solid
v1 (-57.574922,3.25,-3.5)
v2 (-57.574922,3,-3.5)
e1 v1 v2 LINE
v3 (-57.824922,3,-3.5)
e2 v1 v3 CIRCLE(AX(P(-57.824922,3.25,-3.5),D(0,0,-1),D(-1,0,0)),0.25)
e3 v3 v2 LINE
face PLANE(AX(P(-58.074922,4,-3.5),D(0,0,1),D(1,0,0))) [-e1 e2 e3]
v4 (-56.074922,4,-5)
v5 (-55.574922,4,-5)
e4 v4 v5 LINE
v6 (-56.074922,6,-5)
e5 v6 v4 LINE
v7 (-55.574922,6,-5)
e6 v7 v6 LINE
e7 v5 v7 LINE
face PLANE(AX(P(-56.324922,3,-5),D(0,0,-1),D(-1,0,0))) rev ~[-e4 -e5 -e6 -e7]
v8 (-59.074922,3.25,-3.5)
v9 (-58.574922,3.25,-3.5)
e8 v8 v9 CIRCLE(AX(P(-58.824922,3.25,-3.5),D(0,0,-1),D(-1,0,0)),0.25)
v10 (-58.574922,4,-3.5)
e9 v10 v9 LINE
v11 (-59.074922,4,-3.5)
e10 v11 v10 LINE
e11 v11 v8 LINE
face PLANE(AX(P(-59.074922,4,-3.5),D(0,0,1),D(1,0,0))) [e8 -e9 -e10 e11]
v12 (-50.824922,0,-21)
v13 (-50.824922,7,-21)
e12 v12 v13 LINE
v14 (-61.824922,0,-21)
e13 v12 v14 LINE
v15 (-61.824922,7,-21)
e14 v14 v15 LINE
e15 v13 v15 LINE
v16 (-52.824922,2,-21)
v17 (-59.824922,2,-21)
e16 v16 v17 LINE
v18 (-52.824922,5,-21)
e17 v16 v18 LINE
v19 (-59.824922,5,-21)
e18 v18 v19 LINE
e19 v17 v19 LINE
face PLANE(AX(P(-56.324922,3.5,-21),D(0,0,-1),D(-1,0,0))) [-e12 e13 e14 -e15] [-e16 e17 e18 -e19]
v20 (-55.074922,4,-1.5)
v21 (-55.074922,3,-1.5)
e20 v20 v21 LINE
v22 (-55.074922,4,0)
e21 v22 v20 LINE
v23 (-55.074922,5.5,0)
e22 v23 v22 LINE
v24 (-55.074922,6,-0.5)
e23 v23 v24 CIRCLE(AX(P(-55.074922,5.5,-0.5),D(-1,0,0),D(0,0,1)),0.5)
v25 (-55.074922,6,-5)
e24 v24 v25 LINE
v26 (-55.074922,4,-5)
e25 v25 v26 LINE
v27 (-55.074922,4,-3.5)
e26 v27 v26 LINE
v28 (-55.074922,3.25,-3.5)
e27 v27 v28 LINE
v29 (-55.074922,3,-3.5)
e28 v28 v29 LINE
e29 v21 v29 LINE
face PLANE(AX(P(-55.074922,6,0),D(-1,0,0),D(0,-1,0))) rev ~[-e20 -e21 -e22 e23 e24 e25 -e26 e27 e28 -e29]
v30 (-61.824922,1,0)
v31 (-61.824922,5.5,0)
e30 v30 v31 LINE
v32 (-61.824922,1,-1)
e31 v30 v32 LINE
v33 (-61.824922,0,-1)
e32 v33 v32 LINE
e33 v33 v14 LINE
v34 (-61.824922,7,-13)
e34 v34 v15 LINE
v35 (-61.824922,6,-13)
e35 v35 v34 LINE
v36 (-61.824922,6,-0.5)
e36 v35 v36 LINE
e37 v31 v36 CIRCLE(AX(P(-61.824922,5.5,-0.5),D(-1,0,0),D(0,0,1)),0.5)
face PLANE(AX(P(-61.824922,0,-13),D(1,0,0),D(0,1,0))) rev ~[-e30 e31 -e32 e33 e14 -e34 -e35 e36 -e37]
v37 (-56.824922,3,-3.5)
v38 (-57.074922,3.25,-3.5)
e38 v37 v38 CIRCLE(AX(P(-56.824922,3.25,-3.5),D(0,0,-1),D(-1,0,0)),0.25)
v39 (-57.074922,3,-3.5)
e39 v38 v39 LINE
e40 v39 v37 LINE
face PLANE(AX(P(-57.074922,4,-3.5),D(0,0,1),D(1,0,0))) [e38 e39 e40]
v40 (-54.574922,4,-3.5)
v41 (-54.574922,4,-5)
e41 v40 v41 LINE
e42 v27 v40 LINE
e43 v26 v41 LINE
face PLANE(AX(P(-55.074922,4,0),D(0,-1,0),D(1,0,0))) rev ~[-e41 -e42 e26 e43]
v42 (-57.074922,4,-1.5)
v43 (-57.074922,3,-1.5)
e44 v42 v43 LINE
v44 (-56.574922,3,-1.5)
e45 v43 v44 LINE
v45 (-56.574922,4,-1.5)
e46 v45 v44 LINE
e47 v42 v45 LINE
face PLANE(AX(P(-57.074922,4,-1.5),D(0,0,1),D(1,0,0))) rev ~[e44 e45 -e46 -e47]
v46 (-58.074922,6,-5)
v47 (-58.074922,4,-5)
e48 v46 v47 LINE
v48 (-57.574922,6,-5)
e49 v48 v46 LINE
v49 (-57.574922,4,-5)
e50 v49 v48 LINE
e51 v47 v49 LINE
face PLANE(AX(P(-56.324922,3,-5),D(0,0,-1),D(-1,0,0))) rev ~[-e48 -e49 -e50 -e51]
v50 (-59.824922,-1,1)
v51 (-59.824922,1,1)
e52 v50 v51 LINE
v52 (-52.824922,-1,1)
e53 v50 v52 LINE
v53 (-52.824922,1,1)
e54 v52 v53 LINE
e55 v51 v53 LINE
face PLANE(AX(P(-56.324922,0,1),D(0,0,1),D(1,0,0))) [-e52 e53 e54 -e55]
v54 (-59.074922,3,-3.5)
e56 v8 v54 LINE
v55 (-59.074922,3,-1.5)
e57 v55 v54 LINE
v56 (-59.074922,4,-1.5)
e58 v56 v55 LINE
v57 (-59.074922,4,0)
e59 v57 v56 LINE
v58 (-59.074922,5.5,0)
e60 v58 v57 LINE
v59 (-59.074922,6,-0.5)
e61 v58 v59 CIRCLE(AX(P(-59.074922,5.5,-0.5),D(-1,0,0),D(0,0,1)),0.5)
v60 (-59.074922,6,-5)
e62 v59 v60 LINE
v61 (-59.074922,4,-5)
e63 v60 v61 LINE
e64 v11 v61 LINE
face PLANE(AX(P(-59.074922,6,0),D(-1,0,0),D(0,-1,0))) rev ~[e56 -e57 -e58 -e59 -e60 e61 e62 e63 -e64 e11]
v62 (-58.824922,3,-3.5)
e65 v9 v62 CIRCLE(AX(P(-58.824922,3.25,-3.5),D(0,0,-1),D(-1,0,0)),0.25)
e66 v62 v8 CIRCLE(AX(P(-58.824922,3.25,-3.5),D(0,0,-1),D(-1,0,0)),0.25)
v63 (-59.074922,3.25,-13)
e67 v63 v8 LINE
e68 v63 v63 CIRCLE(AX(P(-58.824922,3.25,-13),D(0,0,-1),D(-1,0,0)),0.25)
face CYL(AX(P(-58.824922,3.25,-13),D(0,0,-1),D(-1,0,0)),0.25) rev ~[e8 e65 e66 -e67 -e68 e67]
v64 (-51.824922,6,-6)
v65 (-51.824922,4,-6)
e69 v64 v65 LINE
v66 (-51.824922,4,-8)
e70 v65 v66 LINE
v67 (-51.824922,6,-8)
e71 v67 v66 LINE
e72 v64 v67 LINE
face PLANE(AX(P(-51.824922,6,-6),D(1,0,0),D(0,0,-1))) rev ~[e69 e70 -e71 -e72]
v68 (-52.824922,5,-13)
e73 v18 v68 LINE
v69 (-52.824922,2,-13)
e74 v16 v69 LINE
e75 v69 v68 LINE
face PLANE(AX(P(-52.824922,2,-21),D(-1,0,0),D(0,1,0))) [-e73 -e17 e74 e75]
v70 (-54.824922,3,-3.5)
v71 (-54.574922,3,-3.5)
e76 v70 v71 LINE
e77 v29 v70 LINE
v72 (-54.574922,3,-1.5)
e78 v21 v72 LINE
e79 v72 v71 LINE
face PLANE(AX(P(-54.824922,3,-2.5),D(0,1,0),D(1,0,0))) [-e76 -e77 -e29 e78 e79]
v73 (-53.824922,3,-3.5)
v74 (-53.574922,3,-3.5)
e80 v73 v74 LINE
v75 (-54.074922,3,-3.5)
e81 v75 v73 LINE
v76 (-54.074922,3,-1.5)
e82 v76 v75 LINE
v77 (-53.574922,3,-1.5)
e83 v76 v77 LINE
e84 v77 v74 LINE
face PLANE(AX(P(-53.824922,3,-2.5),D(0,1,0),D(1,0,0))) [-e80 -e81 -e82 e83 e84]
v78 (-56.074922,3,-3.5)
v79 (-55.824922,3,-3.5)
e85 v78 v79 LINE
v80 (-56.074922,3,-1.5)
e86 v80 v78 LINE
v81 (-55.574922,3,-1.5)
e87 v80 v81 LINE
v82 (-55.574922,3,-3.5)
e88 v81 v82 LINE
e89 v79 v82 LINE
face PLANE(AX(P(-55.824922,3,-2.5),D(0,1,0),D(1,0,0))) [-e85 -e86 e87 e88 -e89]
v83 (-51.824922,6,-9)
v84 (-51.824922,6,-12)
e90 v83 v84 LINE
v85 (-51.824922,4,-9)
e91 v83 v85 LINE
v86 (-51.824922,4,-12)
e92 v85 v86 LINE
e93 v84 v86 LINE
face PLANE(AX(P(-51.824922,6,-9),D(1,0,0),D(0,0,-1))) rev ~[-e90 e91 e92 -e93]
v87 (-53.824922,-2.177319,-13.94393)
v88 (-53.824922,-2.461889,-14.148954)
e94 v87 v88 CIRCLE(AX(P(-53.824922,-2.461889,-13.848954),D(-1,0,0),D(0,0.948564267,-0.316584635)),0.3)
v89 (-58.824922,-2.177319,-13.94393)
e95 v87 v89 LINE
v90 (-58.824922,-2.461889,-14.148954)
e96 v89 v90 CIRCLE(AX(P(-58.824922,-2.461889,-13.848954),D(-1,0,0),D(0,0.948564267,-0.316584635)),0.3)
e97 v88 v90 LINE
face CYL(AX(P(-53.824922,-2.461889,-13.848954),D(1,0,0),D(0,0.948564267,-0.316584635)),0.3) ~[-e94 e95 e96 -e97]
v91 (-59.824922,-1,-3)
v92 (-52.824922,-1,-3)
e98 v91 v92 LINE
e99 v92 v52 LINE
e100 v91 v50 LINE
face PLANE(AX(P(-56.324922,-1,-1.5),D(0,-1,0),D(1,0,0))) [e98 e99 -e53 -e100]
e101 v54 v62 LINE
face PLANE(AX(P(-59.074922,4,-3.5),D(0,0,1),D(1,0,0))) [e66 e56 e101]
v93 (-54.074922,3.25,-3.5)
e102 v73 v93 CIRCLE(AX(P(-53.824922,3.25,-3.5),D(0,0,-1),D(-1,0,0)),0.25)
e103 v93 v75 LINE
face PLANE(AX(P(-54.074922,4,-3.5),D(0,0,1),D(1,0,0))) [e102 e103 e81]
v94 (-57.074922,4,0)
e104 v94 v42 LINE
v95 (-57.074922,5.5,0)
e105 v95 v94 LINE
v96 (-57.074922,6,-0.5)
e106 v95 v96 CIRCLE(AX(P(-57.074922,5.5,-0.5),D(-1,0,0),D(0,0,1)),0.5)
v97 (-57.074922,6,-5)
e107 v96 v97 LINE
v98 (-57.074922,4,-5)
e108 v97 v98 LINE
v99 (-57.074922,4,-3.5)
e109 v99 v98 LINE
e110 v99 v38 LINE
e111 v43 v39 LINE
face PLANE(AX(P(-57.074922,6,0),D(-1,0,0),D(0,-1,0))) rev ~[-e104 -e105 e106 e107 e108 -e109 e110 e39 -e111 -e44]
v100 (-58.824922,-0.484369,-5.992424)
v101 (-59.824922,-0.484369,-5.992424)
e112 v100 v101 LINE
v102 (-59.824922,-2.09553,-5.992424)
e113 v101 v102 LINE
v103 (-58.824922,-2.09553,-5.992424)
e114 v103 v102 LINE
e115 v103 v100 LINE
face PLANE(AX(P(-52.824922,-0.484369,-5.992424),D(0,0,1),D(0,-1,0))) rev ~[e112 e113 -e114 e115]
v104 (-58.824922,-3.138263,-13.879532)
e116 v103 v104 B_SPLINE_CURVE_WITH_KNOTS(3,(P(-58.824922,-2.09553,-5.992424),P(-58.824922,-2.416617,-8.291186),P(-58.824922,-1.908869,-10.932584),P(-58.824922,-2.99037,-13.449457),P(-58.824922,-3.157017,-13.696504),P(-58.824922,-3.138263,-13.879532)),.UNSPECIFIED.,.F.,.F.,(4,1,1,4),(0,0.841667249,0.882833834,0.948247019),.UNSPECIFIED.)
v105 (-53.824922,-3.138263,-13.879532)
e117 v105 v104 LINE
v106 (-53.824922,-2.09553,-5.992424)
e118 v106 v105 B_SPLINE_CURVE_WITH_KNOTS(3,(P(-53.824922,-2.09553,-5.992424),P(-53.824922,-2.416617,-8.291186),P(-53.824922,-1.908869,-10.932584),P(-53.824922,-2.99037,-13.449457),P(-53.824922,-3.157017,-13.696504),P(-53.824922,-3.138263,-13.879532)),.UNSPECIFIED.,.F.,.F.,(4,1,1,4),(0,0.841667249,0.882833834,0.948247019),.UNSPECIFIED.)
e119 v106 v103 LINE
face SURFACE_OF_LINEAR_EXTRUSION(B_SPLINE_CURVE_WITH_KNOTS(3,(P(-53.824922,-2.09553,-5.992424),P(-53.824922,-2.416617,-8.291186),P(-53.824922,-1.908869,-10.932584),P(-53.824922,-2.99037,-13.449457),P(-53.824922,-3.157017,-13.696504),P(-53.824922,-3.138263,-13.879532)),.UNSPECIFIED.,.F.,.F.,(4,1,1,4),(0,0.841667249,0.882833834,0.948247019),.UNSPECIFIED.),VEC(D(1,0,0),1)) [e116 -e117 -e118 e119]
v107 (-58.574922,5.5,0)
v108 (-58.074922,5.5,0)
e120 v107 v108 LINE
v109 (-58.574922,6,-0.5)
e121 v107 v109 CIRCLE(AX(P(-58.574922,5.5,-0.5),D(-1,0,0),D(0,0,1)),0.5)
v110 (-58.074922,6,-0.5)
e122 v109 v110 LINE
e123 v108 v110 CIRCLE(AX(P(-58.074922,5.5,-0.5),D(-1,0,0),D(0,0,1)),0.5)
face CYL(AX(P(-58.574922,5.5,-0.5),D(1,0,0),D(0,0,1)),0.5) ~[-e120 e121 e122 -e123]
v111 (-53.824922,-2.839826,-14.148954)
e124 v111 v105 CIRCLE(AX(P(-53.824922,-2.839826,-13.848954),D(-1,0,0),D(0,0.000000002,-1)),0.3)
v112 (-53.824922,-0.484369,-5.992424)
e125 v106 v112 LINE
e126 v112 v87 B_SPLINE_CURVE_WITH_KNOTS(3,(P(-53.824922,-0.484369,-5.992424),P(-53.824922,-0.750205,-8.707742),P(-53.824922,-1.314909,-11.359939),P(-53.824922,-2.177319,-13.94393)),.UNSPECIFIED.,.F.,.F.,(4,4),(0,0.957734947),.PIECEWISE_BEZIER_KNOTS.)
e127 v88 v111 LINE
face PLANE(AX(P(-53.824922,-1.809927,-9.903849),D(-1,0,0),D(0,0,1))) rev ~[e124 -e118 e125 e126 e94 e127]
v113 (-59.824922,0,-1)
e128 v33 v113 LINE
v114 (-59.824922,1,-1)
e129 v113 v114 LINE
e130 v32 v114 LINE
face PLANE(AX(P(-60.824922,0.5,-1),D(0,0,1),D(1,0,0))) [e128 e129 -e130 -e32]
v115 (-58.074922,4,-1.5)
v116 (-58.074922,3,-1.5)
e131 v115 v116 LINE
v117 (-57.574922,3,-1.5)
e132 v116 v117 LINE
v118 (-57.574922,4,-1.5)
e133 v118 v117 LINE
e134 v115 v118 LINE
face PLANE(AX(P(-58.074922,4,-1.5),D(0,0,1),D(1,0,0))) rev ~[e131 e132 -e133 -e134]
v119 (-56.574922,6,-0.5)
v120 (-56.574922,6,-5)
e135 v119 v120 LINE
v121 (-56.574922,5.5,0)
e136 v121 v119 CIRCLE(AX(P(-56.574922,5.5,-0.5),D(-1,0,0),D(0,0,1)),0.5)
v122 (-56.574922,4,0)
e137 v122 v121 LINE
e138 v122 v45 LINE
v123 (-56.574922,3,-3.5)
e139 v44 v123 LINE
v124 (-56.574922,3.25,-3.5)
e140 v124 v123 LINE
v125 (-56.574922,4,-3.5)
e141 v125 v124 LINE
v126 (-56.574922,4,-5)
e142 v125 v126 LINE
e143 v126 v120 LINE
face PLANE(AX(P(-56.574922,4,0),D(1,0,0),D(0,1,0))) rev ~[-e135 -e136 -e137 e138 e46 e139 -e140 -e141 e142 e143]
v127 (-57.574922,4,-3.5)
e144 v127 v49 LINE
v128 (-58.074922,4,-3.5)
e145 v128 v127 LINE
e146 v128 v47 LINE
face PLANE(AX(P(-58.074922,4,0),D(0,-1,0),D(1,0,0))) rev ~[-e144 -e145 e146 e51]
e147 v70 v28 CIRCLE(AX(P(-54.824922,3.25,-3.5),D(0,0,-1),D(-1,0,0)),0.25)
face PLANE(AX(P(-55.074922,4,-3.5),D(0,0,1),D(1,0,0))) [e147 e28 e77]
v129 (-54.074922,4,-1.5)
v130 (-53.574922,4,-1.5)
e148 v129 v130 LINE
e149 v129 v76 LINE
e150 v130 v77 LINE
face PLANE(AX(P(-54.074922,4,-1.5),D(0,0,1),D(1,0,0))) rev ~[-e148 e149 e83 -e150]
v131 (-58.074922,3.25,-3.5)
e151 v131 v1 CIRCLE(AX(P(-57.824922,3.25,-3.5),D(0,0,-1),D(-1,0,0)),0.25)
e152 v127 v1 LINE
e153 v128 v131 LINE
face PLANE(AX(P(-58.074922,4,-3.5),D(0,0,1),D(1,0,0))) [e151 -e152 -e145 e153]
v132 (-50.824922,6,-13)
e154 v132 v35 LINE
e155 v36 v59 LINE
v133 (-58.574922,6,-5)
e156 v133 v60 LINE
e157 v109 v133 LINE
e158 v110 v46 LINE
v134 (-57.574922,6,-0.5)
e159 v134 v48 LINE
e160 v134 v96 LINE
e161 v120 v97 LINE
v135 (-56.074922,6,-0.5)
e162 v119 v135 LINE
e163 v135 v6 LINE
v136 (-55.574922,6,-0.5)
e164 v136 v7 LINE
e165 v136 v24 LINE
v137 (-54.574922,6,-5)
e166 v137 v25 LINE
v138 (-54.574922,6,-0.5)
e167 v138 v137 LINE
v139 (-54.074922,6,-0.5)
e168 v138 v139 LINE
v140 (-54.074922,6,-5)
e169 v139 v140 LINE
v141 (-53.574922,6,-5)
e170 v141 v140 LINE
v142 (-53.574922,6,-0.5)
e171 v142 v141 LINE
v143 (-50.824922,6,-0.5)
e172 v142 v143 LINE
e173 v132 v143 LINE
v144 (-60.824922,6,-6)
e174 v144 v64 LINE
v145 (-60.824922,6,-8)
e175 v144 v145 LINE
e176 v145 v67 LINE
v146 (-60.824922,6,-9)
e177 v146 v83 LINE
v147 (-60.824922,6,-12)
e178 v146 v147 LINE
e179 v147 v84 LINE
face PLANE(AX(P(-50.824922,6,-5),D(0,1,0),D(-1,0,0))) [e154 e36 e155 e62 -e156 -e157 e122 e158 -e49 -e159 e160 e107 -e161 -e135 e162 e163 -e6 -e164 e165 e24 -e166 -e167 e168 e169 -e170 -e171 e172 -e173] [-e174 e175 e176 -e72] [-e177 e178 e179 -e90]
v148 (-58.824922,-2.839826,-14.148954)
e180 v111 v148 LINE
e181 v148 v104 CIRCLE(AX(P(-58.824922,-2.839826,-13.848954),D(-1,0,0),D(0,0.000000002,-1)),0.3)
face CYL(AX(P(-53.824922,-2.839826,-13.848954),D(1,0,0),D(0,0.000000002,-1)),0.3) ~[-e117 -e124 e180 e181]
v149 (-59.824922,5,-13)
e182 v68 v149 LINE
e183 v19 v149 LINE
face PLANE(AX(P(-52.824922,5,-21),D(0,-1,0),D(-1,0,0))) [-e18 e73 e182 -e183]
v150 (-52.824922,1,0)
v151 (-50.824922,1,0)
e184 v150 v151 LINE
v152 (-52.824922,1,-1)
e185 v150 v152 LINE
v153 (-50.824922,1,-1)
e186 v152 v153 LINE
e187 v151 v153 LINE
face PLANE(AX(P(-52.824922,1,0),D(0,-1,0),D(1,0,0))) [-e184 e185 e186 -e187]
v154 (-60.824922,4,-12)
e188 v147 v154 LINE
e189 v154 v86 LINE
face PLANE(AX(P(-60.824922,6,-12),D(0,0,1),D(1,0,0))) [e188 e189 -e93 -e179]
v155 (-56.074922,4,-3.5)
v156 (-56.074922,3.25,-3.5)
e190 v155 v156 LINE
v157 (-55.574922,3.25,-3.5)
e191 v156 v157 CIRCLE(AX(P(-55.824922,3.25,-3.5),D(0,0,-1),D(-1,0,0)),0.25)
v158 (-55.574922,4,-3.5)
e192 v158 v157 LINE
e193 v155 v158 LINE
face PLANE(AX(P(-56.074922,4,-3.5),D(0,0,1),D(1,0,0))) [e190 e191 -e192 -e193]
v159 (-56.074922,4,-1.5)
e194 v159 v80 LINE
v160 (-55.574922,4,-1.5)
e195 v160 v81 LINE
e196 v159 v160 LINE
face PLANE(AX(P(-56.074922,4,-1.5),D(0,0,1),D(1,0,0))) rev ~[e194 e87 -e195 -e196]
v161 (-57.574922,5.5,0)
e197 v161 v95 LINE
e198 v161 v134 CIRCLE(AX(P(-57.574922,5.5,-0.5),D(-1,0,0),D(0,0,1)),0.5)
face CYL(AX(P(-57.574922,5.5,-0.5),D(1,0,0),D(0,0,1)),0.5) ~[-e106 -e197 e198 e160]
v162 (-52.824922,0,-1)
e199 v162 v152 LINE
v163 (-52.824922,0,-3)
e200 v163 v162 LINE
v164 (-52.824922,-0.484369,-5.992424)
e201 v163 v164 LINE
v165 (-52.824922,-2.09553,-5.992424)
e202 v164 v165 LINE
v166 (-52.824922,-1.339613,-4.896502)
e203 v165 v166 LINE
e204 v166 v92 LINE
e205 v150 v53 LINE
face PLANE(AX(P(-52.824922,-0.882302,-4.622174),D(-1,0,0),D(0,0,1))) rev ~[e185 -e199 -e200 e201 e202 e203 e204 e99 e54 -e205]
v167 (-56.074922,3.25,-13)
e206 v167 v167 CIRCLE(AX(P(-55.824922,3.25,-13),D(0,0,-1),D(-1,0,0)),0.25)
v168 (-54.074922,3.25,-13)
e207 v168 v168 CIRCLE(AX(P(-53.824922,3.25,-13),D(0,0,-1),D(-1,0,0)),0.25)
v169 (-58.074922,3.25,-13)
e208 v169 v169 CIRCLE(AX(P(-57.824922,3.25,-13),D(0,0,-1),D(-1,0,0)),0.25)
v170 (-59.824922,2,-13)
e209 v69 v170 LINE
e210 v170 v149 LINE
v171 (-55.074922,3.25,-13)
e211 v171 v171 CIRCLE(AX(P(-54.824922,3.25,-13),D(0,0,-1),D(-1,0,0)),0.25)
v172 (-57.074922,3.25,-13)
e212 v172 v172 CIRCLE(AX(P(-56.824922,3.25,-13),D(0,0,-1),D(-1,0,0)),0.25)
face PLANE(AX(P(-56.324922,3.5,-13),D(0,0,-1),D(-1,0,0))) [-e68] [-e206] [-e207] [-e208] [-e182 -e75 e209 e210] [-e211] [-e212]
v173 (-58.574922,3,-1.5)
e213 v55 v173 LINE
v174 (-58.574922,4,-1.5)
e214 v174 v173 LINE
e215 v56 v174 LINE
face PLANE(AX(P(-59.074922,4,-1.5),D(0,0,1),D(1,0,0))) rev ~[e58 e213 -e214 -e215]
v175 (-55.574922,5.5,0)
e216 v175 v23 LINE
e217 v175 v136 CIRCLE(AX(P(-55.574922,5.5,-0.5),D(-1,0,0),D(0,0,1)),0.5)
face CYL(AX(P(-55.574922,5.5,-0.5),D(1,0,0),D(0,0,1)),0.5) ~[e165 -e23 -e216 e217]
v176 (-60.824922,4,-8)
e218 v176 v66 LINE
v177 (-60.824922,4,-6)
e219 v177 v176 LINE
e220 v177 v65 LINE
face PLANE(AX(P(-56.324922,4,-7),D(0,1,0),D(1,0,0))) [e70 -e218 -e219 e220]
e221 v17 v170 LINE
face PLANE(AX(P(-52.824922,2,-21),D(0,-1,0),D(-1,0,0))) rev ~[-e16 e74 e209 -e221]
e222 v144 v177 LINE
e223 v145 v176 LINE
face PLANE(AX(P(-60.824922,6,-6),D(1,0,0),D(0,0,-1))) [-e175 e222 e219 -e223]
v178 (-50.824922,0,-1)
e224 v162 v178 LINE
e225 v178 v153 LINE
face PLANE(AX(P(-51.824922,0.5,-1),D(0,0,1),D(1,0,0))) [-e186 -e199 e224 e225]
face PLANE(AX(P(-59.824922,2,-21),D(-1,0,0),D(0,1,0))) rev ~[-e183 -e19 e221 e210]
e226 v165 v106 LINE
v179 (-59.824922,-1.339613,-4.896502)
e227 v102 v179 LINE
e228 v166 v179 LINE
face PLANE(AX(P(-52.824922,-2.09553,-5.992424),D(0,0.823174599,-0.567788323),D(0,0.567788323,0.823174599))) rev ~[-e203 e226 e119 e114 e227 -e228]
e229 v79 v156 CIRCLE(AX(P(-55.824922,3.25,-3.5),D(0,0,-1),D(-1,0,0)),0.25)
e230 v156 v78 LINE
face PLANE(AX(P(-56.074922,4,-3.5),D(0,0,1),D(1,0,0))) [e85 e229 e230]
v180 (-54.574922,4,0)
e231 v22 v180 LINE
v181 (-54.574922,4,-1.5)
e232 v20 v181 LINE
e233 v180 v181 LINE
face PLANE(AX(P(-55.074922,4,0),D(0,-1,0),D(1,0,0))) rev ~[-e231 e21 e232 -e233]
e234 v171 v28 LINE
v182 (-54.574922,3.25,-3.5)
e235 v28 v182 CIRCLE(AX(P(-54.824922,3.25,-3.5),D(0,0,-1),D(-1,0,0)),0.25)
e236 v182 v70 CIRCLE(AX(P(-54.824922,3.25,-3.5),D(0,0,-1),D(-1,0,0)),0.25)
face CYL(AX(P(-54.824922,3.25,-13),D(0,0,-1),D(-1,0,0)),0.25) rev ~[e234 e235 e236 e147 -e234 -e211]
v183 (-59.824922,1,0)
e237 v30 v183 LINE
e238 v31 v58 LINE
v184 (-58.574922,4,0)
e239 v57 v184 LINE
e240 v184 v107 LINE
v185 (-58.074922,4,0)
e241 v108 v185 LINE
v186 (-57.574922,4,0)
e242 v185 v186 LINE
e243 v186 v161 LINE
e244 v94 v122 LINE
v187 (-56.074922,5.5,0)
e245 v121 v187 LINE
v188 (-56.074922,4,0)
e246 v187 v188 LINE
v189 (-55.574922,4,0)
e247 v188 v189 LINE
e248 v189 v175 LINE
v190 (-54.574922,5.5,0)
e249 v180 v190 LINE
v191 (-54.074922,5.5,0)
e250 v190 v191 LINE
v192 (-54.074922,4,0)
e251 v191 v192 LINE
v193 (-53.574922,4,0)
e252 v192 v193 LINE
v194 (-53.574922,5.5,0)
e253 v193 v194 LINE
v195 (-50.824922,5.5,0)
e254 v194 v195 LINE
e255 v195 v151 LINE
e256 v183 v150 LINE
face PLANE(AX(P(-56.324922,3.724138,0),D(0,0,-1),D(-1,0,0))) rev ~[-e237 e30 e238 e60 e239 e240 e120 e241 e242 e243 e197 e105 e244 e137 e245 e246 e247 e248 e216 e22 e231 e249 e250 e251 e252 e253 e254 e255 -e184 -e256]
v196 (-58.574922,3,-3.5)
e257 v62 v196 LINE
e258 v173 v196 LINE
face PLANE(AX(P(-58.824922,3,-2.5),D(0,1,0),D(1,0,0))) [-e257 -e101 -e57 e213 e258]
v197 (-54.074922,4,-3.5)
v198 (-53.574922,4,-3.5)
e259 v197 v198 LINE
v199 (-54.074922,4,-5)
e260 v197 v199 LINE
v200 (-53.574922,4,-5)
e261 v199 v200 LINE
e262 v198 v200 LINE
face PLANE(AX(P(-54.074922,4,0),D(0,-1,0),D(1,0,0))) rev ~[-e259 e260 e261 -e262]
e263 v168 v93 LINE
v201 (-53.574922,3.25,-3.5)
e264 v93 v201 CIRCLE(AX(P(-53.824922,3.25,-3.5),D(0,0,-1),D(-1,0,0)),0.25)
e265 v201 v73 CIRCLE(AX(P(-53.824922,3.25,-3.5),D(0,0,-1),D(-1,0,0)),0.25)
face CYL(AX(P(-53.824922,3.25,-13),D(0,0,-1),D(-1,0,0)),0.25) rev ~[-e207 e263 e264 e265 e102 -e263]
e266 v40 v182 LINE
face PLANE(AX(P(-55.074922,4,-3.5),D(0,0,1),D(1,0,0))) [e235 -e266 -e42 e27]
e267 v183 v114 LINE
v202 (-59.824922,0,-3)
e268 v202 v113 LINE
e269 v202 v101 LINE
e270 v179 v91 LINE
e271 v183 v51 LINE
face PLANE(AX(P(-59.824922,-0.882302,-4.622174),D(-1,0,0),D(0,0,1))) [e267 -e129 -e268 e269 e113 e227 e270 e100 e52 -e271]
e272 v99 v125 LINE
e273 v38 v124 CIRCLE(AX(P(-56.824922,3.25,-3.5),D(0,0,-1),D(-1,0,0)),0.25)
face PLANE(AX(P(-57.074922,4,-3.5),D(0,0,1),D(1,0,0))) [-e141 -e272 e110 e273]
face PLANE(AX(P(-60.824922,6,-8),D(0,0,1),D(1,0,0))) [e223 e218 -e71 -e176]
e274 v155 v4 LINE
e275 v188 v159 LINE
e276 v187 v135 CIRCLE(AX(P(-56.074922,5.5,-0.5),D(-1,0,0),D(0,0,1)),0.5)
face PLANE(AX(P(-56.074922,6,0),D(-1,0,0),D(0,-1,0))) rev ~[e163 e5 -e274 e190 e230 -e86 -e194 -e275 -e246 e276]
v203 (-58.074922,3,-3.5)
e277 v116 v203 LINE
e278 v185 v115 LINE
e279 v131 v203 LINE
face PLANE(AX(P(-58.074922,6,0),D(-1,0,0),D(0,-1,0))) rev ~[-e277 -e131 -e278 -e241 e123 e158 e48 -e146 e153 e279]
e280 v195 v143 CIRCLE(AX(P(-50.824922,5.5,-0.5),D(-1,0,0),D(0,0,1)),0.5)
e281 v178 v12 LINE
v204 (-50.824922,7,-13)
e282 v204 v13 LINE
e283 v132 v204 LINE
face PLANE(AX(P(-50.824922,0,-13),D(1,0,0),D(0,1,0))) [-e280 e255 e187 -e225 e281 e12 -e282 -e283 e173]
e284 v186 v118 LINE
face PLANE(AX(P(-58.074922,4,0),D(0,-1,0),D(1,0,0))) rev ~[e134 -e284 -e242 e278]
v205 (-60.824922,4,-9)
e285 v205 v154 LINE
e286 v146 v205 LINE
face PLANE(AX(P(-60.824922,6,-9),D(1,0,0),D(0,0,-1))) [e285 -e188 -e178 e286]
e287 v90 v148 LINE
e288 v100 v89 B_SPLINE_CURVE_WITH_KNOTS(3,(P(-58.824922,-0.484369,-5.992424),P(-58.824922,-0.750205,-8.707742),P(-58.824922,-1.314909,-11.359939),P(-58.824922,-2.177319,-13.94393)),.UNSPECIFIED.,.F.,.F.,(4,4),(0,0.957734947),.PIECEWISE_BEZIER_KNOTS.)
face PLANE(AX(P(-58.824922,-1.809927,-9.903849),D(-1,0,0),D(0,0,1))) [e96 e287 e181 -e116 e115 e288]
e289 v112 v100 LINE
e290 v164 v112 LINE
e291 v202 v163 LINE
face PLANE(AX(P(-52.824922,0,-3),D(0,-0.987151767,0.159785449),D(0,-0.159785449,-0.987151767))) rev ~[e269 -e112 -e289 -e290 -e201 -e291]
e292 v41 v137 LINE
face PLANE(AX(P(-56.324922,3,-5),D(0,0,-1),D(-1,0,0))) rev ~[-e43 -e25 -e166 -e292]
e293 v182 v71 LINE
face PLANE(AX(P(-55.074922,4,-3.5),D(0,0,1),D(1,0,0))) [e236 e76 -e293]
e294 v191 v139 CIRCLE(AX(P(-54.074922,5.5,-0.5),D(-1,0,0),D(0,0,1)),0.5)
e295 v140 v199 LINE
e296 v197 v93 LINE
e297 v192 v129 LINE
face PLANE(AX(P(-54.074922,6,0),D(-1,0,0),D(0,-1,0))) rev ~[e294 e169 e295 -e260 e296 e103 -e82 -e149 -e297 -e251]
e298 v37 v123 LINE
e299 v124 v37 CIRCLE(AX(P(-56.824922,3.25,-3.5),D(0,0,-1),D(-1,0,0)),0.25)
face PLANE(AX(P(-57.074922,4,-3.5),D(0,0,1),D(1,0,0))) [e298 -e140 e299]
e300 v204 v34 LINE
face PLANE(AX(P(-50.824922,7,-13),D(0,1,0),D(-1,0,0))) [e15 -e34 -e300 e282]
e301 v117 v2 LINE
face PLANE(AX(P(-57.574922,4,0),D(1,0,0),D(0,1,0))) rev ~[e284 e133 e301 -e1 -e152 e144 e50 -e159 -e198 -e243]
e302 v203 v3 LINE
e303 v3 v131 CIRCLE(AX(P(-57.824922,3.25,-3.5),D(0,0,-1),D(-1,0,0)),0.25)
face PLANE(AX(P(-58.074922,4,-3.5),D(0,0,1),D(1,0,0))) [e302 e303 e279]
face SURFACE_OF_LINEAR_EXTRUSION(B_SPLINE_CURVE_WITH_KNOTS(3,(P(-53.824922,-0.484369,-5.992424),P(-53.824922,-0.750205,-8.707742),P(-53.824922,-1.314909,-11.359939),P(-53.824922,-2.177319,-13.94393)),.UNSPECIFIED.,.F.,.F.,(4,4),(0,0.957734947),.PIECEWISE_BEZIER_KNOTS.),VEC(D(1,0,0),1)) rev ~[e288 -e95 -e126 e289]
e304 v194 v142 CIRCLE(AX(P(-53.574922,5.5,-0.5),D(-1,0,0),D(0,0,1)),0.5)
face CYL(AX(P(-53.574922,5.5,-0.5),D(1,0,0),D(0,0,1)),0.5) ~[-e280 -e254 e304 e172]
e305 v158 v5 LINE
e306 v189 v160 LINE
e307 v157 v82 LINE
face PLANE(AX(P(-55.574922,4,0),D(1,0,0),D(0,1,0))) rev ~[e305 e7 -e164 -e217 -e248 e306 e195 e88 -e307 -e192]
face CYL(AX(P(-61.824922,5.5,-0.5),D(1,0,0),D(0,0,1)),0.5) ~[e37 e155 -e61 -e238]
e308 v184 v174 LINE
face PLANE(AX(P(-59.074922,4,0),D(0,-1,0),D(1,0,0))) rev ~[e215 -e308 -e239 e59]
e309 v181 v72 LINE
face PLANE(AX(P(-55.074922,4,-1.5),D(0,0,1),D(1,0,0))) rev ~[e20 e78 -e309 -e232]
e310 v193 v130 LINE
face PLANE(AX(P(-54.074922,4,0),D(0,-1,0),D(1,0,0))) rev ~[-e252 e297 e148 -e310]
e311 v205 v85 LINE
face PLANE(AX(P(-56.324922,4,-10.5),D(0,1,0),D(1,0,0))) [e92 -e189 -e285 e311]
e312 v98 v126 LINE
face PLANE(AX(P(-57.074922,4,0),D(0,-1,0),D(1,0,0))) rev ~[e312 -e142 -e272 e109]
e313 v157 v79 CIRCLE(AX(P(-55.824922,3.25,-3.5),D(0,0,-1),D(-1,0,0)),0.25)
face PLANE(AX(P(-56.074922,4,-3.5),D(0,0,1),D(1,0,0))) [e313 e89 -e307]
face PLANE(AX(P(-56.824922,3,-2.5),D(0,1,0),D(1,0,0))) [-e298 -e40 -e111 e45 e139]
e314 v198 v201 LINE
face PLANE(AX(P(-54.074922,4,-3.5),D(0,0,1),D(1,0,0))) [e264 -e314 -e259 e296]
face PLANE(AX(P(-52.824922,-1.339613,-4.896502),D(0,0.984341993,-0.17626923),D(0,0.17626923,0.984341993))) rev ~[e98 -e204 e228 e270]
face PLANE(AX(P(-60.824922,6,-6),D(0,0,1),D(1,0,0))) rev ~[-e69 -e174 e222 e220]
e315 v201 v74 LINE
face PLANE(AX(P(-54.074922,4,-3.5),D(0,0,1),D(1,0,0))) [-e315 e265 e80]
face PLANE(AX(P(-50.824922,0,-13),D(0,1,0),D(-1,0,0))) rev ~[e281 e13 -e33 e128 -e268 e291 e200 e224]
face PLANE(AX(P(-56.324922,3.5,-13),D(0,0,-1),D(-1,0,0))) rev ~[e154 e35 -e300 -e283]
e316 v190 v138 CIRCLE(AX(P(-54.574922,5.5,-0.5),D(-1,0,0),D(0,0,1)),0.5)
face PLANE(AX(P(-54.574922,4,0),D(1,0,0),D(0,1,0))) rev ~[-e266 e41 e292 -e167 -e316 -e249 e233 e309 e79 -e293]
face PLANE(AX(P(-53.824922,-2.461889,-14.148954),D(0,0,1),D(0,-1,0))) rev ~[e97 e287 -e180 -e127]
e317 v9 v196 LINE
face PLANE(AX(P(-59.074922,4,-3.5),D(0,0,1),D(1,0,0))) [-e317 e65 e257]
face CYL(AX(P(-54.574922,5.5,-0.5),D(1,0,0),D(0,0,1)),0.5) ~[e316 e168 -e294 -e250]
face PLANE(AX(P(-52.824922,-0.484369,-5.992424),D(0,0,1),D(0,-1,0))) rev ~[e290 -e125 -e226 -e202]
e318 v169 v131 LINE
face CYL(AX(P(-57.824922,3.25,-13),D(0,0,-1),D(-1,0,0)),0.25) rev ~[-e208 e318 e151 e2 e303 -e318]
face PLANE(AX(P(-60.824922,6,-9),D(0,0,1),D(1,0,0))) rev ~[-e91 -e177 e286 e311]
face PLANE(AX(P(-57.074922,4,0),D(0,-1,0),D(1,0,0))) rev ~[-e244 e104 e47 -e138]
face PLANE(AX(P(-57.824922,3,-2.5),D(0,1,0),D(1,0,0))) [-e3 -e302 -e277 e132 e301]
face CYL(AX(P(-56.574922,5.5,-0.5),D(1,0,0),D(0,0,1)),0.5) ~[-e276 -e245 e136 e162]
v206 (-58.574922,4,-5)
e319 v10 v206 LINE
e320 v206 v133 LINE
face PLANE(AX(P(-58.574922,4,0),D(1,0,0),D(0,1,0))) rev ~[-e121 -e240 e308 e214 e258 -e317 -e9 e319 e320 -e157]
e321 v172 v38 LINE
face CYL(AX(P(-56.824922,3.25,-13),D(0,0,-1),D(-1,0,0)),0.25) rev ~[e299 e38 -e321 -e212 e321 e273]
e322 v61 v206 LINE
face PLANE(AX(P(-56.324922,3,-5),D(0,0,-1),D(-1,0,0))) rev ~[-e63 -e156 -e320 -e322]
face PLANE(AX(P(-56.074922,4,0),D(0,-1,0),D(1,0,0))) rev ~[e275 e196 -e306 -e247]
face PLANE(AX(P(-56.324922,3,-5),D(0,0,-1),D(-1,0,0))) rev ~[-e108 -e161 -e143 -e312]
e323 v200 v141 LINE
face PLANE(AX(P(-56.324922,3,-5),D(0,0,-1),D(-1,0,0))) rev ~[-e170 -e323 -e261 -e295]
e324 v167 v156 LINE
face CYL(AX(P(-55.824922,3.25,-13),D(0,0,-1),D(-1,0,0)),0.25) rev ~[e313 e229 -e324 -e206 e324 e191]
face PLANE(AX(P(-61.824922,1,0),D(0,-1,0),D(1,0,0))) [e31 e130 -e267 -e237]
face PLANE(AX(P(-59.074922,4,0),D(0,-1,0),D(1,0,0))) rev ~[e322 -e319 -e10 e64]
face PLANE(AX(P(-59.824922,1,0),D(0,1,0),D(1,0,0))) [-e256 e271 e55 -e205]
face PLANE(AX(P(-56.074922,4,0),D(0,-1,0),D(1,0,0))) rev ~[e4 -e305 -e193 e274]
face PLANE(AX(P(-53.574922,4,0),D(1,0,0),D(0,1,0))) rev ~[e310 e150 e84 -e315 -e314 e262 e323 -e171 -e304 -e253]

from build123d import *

# Parameters (mm, degrees)
BOSS_EXTRUDE1_DEPTH = 5
SKETCH2_W           = 11
SKETCH2_H           = 6
BOSS_EXTRUDE2_DEPTH = 8
SKETCH3_W           = 9
SKETCH3_H           = 2
CUT_EXTRUDE1_DEPTH  = 2
SKETCH5_W           = 9
SKETCH5_H           = 3
CUT_EXTRUDE2_DEPTH  = 2
SKETCH7_W           = 11
SKETCH7_H           = 7
BOSS_EXTRUDE3_DEPTH = 8
SKETCH8_W           = 7
SKETCH8_H           = 2
BOSS_EXTRUDE4_DEPTH = 1
SKETCH9_W           = 2
SKETCH9_H           = 1
CUT_EXTRUDE3_DEPTH  = 1
SKETCH10_W          = 7
SKETCH10_H          = 3
BOSS_EXTRUDE5_DEPTH = 1
BOSS_EXTRUDE6_DEPTH = 7
BOSS_EXTRUDE7_DEPTH = 5
SKETCH14_W          = 0.5
SKETCH14_H          = 2
CUT_EXTRUDE4_DEPTH  = 1
SKETCH15_W          = 7
SKETCH15_H          = 3
CUT_EXTRUDE5_DEPTH  = 8
SKETCH16_R          = 0.25
CUT_EXTRUDE10_DEPTH = 10
FILLET1_R           = 0.5


with BuildPart() as part:
    # Sketch1 → Boss-Extrude1 (new body)
    with BuildSketch(Plane.XY):
        Polygon((-53.574922408, 6), (-50.824922408, 6), (-50.824922408, 0), (-61.824922408, 0), (-61.824922408, 6), (-59.074922408, 6), (-59.074922408, 4), (-58.574922408, 4), (-58.574922408, 6), (-58.074922408, 6), (-58.074922408, 4), (-57.574922408, 4), (-57.574922408, 6), (-57.074922408, 6), (-57.074922408, 4), (-56.574922408, 4), (-56.574922408, 6), (-56.074922408, 6), (-56.074922408, 4), (-55.574922408, 4), (-55.574922408, 6), (-55.074922408, 6), (-55.074922408, 4), (-54.574922408, 4), (-54.574922408, 6), (-54.074922408, 6), (-54.074922408, 4), (-53.574922408, 4), align=None)
    extrude(amount=-BOSS_EXTRUDE1_DEPTH)

    # Sketch2 → Boss-Extrude2 (add)
    with BuildSketch(Plane(origin=(0, 0, -5), x_dir=(-1, 0, 0), z_dir=(0, 0, -1))):
        with Locations((56.324922408, 3)):
            Rectangle(SKETCH2_W, SKETCH2_H)
    extrude(amount=BOSS_EXTRUDE2_DEPTH)

    # Sketch3 → Cut-Extrude1 (cut)
    with BuildSketch(Plane(origin=(0, 6, 0), x_dir=(1, 0, 0), z_dir=(0, 1, 0))):
        with Locations((-56.324922408, 7)):
            Rectangle(SKETCH3_W, SKETCH3_H)
    extrude(amount=-CUT_EXTRUDE1_DEPTH, mode=Mode.SUBTRACT)

    # Sketch5 → Cut-Extrude2 (cut)
    with BuildSketch(Plane(origin=(0, 6, 0), x_dir=(1, 0, 0), z_dir=(0, 1, 0))):
        with Locations((-56.324922408, 10.5)):
            Rectangle(SKETCH5_W, SKETCH5_H)
    extrude(amount=-CUT_EXTRUDE2_DEPTH, mode=Mode.SUBTRACT)

    # Sketch7 → Boss-Extrude3 (add)
    with BuildSketch(Plane(origin=(0, 0, -13), x_dir=(-1, 0, 0), z_dir=(0, 0, -1))):
        with Locations((56.324922408, 3.5)):
            Rectangle(SKETCH7_W, SKETCH7_H)
    extrude(amount=BOSS_EXTRUDE3_DEPTH)

    # Sketch8 → Boss-Extrude4 (add)
    with BuildSketch(Plane.XY):
        with Locations((-56.324922408, 0)):
            Rectangle(SKETCH8_W, SKETCH8_H)
    extrude(amount=BOSS_EXTRUDE4_DEPTH)

    # Sketch9 → Cut-Extrude3 (cut)
    with BuildSketch(Plane.XY):
        with Locations((-60.824922408, 0.5)):
            Rectangle(SKETCH9_W, SKETCH9_H)
        with Locations((-51.824922408, 0.5)):
            Rectangle(SKETCH9_W, SKETCH9_H)
    extrude(amount=-CUT_EXTRUDE3_DEPTH, mode=Mode.SUBTRACT)

    # Sketch10 → Boss-Extrude5 (add)
    with BuildSketch(Plane.XZ):
        with Locations((-56.324922408, -1.5)):
            Rectangle(SKETCH10_W, SKETCH10_H)
    extrude(amount=BOSS_EXTRUDE5_DEPTH)

    # Sketch12 → Boss-Extrude6 (add)
    with BuildSketch(Plane(origin=(-52.824922408, 0, 0), x_dir=(0, 0, -1), z_dir=(1, 0, 0))):
        Polygon((3, 0), (5.992424207, -0.484369133), (5.992424207, -2.095529726), (4.896502139, -1.339612629), (3, -1), align=None)
    extrude(amount=-BOSS_EXTRUDE6_DEPTH)

    # Sketch13 → Boss-Extrude7 (add)
    with BuildSketch(Plane(origin=(-53.824922408, 0, 0), x_dir=(0, 0, -1), z_dir=(1, 0, 0))):
        with BuildLine():
            Line((14.148954215, -2.461888554), (14.148954215, -2.839825861))
            ThreePointArc((14.148954215, -2.839825861), (14.071635021, -3.040856353), (13.87953249, -3.138263407))
            add(Edge.make_bspline(
                [(5.992424207, -2.095529726), (8.29118563, -2.416616876), (10.932584268, -1.908869196), (13.449456914, -2.990370177), (13.696503578, -3.157016773), (13.87953249, -3.138263407)],
                knots=[0, 0, 0, 0, 0.841667249, 0.882833834, 0.948247019, 0.948247019, 0.948247019, 0.948247019], degree=3))
            Line((5.992424207, -2.095529726), (5.992424207, -0.484369133))
            add(Edge.make_bspline(
                [(5.992424207, -0.484369133), (8.707741723, -0.750205277), (11.359938613, -1.314908717), (13.943929605, -2.177319274)],
                knots=[0, 0, 0, 0, 0.957734947, 0.957734947, 0.957734947, 0.957734947], degree=3))
            ThreePointArc((13.943929605, -2.177319274), (14.092359861, -2.28652125), (14.148954215, -2.461888554))
        make_face()
    extrude(amount=-BOSS_EXTRUDE7_DEPTH)

    # Sketch14 → Cut-Extrude4 (cut)
    with BuildSketch(Plane(origin=(0, 4, 0), x_dir=(1, 0, 0), z_dir=(0, 1, 0))):
        with Locations((-53.824922408, 2.5)):
            Rectangle(SKETCH14_W, SKETCH14_H)
        with Locations((-54.824922408, 2.5)):
            Rectangle(SKETCH14_W, SKETCH14_H)
        with Locations((-55.824922408, 2.5)):
            Rectangle(SKETCH14_W, SKETCH14_H)
        with Locations((-56.824922408, 2.5)):
            Rectangle(SKETCH14_W, SKETCH14_H)
        with Locations((-57.824922408, 2.5)):
            Rectangle(SKETCH14_W, SKETCH14_H)
        with Locations((-58.824922408, 2.5)):
            Rectangle(SKETCH14_W, SKETCH14_H)
    extrude(amount=-CUT_EXTRUDE4_DEPTH, mode=Mode.SUBTRACT)

    # Sketch15 → Cut-Extrude5 (cut)
    with BuildSketch(Plane(origin=(0, 0, -21), x_dir=(-1, 0, 0), z_dir=(0, 0, -1))):
        with Locations((56.324922408, 3.5)):
            Rectangle(SKETCH15_W, SKETCH15_H)
    extrude(amount=-CUT_EXTRUDE5_DEPTH, mode=Mode.SUBTRACT)

    # Sketch16 → Cut-Extrude10 (cut)
    with BuildSketch(Plane(origin=(0, 0, -13), x_dir=(-1, 0, 0), z_dir=(0, 0, -1))):
        with Locations((53.824922408, 3.25)):
            Circle(SKETCH16_R)
        with Locations((54.824922408, 3.25)):
            Circle(SKETCH16_R)
        with Locations((55.824922408, 3.25)):
            Circle(SKETCH16_R)
        with Locations((56.824922408, 3.25)):
            Circle(SKETCH16_R)
        with Locations((57.824922408, 3.25)):
            Circle(SKETCH16_R)
        with Locations((58.824922408, 3.25)):
            Circle(SKETCH16_R)
    extrude(amount=-CUT_EXTRUDE10_DEPTH, mode=Mode.SUBTRACT)

    # Fillet1
    fillet1_edges = [part.edges().sort_by_distance(p)[0] for p in [
        (-60.449922408, 6, 0),
        (-58.324922408, 6, 0),
        (-57.324922408, 6, 0),
        (-56.324922408, 6, 0),
        (-55.324922408, 6, 0),
        (-54.324922408, 6, 0),
        (-52.199922408, 6, 0),
    ]]
    fillet(fillet1_edges, radius=FILLET1_R)


solid = part.part
